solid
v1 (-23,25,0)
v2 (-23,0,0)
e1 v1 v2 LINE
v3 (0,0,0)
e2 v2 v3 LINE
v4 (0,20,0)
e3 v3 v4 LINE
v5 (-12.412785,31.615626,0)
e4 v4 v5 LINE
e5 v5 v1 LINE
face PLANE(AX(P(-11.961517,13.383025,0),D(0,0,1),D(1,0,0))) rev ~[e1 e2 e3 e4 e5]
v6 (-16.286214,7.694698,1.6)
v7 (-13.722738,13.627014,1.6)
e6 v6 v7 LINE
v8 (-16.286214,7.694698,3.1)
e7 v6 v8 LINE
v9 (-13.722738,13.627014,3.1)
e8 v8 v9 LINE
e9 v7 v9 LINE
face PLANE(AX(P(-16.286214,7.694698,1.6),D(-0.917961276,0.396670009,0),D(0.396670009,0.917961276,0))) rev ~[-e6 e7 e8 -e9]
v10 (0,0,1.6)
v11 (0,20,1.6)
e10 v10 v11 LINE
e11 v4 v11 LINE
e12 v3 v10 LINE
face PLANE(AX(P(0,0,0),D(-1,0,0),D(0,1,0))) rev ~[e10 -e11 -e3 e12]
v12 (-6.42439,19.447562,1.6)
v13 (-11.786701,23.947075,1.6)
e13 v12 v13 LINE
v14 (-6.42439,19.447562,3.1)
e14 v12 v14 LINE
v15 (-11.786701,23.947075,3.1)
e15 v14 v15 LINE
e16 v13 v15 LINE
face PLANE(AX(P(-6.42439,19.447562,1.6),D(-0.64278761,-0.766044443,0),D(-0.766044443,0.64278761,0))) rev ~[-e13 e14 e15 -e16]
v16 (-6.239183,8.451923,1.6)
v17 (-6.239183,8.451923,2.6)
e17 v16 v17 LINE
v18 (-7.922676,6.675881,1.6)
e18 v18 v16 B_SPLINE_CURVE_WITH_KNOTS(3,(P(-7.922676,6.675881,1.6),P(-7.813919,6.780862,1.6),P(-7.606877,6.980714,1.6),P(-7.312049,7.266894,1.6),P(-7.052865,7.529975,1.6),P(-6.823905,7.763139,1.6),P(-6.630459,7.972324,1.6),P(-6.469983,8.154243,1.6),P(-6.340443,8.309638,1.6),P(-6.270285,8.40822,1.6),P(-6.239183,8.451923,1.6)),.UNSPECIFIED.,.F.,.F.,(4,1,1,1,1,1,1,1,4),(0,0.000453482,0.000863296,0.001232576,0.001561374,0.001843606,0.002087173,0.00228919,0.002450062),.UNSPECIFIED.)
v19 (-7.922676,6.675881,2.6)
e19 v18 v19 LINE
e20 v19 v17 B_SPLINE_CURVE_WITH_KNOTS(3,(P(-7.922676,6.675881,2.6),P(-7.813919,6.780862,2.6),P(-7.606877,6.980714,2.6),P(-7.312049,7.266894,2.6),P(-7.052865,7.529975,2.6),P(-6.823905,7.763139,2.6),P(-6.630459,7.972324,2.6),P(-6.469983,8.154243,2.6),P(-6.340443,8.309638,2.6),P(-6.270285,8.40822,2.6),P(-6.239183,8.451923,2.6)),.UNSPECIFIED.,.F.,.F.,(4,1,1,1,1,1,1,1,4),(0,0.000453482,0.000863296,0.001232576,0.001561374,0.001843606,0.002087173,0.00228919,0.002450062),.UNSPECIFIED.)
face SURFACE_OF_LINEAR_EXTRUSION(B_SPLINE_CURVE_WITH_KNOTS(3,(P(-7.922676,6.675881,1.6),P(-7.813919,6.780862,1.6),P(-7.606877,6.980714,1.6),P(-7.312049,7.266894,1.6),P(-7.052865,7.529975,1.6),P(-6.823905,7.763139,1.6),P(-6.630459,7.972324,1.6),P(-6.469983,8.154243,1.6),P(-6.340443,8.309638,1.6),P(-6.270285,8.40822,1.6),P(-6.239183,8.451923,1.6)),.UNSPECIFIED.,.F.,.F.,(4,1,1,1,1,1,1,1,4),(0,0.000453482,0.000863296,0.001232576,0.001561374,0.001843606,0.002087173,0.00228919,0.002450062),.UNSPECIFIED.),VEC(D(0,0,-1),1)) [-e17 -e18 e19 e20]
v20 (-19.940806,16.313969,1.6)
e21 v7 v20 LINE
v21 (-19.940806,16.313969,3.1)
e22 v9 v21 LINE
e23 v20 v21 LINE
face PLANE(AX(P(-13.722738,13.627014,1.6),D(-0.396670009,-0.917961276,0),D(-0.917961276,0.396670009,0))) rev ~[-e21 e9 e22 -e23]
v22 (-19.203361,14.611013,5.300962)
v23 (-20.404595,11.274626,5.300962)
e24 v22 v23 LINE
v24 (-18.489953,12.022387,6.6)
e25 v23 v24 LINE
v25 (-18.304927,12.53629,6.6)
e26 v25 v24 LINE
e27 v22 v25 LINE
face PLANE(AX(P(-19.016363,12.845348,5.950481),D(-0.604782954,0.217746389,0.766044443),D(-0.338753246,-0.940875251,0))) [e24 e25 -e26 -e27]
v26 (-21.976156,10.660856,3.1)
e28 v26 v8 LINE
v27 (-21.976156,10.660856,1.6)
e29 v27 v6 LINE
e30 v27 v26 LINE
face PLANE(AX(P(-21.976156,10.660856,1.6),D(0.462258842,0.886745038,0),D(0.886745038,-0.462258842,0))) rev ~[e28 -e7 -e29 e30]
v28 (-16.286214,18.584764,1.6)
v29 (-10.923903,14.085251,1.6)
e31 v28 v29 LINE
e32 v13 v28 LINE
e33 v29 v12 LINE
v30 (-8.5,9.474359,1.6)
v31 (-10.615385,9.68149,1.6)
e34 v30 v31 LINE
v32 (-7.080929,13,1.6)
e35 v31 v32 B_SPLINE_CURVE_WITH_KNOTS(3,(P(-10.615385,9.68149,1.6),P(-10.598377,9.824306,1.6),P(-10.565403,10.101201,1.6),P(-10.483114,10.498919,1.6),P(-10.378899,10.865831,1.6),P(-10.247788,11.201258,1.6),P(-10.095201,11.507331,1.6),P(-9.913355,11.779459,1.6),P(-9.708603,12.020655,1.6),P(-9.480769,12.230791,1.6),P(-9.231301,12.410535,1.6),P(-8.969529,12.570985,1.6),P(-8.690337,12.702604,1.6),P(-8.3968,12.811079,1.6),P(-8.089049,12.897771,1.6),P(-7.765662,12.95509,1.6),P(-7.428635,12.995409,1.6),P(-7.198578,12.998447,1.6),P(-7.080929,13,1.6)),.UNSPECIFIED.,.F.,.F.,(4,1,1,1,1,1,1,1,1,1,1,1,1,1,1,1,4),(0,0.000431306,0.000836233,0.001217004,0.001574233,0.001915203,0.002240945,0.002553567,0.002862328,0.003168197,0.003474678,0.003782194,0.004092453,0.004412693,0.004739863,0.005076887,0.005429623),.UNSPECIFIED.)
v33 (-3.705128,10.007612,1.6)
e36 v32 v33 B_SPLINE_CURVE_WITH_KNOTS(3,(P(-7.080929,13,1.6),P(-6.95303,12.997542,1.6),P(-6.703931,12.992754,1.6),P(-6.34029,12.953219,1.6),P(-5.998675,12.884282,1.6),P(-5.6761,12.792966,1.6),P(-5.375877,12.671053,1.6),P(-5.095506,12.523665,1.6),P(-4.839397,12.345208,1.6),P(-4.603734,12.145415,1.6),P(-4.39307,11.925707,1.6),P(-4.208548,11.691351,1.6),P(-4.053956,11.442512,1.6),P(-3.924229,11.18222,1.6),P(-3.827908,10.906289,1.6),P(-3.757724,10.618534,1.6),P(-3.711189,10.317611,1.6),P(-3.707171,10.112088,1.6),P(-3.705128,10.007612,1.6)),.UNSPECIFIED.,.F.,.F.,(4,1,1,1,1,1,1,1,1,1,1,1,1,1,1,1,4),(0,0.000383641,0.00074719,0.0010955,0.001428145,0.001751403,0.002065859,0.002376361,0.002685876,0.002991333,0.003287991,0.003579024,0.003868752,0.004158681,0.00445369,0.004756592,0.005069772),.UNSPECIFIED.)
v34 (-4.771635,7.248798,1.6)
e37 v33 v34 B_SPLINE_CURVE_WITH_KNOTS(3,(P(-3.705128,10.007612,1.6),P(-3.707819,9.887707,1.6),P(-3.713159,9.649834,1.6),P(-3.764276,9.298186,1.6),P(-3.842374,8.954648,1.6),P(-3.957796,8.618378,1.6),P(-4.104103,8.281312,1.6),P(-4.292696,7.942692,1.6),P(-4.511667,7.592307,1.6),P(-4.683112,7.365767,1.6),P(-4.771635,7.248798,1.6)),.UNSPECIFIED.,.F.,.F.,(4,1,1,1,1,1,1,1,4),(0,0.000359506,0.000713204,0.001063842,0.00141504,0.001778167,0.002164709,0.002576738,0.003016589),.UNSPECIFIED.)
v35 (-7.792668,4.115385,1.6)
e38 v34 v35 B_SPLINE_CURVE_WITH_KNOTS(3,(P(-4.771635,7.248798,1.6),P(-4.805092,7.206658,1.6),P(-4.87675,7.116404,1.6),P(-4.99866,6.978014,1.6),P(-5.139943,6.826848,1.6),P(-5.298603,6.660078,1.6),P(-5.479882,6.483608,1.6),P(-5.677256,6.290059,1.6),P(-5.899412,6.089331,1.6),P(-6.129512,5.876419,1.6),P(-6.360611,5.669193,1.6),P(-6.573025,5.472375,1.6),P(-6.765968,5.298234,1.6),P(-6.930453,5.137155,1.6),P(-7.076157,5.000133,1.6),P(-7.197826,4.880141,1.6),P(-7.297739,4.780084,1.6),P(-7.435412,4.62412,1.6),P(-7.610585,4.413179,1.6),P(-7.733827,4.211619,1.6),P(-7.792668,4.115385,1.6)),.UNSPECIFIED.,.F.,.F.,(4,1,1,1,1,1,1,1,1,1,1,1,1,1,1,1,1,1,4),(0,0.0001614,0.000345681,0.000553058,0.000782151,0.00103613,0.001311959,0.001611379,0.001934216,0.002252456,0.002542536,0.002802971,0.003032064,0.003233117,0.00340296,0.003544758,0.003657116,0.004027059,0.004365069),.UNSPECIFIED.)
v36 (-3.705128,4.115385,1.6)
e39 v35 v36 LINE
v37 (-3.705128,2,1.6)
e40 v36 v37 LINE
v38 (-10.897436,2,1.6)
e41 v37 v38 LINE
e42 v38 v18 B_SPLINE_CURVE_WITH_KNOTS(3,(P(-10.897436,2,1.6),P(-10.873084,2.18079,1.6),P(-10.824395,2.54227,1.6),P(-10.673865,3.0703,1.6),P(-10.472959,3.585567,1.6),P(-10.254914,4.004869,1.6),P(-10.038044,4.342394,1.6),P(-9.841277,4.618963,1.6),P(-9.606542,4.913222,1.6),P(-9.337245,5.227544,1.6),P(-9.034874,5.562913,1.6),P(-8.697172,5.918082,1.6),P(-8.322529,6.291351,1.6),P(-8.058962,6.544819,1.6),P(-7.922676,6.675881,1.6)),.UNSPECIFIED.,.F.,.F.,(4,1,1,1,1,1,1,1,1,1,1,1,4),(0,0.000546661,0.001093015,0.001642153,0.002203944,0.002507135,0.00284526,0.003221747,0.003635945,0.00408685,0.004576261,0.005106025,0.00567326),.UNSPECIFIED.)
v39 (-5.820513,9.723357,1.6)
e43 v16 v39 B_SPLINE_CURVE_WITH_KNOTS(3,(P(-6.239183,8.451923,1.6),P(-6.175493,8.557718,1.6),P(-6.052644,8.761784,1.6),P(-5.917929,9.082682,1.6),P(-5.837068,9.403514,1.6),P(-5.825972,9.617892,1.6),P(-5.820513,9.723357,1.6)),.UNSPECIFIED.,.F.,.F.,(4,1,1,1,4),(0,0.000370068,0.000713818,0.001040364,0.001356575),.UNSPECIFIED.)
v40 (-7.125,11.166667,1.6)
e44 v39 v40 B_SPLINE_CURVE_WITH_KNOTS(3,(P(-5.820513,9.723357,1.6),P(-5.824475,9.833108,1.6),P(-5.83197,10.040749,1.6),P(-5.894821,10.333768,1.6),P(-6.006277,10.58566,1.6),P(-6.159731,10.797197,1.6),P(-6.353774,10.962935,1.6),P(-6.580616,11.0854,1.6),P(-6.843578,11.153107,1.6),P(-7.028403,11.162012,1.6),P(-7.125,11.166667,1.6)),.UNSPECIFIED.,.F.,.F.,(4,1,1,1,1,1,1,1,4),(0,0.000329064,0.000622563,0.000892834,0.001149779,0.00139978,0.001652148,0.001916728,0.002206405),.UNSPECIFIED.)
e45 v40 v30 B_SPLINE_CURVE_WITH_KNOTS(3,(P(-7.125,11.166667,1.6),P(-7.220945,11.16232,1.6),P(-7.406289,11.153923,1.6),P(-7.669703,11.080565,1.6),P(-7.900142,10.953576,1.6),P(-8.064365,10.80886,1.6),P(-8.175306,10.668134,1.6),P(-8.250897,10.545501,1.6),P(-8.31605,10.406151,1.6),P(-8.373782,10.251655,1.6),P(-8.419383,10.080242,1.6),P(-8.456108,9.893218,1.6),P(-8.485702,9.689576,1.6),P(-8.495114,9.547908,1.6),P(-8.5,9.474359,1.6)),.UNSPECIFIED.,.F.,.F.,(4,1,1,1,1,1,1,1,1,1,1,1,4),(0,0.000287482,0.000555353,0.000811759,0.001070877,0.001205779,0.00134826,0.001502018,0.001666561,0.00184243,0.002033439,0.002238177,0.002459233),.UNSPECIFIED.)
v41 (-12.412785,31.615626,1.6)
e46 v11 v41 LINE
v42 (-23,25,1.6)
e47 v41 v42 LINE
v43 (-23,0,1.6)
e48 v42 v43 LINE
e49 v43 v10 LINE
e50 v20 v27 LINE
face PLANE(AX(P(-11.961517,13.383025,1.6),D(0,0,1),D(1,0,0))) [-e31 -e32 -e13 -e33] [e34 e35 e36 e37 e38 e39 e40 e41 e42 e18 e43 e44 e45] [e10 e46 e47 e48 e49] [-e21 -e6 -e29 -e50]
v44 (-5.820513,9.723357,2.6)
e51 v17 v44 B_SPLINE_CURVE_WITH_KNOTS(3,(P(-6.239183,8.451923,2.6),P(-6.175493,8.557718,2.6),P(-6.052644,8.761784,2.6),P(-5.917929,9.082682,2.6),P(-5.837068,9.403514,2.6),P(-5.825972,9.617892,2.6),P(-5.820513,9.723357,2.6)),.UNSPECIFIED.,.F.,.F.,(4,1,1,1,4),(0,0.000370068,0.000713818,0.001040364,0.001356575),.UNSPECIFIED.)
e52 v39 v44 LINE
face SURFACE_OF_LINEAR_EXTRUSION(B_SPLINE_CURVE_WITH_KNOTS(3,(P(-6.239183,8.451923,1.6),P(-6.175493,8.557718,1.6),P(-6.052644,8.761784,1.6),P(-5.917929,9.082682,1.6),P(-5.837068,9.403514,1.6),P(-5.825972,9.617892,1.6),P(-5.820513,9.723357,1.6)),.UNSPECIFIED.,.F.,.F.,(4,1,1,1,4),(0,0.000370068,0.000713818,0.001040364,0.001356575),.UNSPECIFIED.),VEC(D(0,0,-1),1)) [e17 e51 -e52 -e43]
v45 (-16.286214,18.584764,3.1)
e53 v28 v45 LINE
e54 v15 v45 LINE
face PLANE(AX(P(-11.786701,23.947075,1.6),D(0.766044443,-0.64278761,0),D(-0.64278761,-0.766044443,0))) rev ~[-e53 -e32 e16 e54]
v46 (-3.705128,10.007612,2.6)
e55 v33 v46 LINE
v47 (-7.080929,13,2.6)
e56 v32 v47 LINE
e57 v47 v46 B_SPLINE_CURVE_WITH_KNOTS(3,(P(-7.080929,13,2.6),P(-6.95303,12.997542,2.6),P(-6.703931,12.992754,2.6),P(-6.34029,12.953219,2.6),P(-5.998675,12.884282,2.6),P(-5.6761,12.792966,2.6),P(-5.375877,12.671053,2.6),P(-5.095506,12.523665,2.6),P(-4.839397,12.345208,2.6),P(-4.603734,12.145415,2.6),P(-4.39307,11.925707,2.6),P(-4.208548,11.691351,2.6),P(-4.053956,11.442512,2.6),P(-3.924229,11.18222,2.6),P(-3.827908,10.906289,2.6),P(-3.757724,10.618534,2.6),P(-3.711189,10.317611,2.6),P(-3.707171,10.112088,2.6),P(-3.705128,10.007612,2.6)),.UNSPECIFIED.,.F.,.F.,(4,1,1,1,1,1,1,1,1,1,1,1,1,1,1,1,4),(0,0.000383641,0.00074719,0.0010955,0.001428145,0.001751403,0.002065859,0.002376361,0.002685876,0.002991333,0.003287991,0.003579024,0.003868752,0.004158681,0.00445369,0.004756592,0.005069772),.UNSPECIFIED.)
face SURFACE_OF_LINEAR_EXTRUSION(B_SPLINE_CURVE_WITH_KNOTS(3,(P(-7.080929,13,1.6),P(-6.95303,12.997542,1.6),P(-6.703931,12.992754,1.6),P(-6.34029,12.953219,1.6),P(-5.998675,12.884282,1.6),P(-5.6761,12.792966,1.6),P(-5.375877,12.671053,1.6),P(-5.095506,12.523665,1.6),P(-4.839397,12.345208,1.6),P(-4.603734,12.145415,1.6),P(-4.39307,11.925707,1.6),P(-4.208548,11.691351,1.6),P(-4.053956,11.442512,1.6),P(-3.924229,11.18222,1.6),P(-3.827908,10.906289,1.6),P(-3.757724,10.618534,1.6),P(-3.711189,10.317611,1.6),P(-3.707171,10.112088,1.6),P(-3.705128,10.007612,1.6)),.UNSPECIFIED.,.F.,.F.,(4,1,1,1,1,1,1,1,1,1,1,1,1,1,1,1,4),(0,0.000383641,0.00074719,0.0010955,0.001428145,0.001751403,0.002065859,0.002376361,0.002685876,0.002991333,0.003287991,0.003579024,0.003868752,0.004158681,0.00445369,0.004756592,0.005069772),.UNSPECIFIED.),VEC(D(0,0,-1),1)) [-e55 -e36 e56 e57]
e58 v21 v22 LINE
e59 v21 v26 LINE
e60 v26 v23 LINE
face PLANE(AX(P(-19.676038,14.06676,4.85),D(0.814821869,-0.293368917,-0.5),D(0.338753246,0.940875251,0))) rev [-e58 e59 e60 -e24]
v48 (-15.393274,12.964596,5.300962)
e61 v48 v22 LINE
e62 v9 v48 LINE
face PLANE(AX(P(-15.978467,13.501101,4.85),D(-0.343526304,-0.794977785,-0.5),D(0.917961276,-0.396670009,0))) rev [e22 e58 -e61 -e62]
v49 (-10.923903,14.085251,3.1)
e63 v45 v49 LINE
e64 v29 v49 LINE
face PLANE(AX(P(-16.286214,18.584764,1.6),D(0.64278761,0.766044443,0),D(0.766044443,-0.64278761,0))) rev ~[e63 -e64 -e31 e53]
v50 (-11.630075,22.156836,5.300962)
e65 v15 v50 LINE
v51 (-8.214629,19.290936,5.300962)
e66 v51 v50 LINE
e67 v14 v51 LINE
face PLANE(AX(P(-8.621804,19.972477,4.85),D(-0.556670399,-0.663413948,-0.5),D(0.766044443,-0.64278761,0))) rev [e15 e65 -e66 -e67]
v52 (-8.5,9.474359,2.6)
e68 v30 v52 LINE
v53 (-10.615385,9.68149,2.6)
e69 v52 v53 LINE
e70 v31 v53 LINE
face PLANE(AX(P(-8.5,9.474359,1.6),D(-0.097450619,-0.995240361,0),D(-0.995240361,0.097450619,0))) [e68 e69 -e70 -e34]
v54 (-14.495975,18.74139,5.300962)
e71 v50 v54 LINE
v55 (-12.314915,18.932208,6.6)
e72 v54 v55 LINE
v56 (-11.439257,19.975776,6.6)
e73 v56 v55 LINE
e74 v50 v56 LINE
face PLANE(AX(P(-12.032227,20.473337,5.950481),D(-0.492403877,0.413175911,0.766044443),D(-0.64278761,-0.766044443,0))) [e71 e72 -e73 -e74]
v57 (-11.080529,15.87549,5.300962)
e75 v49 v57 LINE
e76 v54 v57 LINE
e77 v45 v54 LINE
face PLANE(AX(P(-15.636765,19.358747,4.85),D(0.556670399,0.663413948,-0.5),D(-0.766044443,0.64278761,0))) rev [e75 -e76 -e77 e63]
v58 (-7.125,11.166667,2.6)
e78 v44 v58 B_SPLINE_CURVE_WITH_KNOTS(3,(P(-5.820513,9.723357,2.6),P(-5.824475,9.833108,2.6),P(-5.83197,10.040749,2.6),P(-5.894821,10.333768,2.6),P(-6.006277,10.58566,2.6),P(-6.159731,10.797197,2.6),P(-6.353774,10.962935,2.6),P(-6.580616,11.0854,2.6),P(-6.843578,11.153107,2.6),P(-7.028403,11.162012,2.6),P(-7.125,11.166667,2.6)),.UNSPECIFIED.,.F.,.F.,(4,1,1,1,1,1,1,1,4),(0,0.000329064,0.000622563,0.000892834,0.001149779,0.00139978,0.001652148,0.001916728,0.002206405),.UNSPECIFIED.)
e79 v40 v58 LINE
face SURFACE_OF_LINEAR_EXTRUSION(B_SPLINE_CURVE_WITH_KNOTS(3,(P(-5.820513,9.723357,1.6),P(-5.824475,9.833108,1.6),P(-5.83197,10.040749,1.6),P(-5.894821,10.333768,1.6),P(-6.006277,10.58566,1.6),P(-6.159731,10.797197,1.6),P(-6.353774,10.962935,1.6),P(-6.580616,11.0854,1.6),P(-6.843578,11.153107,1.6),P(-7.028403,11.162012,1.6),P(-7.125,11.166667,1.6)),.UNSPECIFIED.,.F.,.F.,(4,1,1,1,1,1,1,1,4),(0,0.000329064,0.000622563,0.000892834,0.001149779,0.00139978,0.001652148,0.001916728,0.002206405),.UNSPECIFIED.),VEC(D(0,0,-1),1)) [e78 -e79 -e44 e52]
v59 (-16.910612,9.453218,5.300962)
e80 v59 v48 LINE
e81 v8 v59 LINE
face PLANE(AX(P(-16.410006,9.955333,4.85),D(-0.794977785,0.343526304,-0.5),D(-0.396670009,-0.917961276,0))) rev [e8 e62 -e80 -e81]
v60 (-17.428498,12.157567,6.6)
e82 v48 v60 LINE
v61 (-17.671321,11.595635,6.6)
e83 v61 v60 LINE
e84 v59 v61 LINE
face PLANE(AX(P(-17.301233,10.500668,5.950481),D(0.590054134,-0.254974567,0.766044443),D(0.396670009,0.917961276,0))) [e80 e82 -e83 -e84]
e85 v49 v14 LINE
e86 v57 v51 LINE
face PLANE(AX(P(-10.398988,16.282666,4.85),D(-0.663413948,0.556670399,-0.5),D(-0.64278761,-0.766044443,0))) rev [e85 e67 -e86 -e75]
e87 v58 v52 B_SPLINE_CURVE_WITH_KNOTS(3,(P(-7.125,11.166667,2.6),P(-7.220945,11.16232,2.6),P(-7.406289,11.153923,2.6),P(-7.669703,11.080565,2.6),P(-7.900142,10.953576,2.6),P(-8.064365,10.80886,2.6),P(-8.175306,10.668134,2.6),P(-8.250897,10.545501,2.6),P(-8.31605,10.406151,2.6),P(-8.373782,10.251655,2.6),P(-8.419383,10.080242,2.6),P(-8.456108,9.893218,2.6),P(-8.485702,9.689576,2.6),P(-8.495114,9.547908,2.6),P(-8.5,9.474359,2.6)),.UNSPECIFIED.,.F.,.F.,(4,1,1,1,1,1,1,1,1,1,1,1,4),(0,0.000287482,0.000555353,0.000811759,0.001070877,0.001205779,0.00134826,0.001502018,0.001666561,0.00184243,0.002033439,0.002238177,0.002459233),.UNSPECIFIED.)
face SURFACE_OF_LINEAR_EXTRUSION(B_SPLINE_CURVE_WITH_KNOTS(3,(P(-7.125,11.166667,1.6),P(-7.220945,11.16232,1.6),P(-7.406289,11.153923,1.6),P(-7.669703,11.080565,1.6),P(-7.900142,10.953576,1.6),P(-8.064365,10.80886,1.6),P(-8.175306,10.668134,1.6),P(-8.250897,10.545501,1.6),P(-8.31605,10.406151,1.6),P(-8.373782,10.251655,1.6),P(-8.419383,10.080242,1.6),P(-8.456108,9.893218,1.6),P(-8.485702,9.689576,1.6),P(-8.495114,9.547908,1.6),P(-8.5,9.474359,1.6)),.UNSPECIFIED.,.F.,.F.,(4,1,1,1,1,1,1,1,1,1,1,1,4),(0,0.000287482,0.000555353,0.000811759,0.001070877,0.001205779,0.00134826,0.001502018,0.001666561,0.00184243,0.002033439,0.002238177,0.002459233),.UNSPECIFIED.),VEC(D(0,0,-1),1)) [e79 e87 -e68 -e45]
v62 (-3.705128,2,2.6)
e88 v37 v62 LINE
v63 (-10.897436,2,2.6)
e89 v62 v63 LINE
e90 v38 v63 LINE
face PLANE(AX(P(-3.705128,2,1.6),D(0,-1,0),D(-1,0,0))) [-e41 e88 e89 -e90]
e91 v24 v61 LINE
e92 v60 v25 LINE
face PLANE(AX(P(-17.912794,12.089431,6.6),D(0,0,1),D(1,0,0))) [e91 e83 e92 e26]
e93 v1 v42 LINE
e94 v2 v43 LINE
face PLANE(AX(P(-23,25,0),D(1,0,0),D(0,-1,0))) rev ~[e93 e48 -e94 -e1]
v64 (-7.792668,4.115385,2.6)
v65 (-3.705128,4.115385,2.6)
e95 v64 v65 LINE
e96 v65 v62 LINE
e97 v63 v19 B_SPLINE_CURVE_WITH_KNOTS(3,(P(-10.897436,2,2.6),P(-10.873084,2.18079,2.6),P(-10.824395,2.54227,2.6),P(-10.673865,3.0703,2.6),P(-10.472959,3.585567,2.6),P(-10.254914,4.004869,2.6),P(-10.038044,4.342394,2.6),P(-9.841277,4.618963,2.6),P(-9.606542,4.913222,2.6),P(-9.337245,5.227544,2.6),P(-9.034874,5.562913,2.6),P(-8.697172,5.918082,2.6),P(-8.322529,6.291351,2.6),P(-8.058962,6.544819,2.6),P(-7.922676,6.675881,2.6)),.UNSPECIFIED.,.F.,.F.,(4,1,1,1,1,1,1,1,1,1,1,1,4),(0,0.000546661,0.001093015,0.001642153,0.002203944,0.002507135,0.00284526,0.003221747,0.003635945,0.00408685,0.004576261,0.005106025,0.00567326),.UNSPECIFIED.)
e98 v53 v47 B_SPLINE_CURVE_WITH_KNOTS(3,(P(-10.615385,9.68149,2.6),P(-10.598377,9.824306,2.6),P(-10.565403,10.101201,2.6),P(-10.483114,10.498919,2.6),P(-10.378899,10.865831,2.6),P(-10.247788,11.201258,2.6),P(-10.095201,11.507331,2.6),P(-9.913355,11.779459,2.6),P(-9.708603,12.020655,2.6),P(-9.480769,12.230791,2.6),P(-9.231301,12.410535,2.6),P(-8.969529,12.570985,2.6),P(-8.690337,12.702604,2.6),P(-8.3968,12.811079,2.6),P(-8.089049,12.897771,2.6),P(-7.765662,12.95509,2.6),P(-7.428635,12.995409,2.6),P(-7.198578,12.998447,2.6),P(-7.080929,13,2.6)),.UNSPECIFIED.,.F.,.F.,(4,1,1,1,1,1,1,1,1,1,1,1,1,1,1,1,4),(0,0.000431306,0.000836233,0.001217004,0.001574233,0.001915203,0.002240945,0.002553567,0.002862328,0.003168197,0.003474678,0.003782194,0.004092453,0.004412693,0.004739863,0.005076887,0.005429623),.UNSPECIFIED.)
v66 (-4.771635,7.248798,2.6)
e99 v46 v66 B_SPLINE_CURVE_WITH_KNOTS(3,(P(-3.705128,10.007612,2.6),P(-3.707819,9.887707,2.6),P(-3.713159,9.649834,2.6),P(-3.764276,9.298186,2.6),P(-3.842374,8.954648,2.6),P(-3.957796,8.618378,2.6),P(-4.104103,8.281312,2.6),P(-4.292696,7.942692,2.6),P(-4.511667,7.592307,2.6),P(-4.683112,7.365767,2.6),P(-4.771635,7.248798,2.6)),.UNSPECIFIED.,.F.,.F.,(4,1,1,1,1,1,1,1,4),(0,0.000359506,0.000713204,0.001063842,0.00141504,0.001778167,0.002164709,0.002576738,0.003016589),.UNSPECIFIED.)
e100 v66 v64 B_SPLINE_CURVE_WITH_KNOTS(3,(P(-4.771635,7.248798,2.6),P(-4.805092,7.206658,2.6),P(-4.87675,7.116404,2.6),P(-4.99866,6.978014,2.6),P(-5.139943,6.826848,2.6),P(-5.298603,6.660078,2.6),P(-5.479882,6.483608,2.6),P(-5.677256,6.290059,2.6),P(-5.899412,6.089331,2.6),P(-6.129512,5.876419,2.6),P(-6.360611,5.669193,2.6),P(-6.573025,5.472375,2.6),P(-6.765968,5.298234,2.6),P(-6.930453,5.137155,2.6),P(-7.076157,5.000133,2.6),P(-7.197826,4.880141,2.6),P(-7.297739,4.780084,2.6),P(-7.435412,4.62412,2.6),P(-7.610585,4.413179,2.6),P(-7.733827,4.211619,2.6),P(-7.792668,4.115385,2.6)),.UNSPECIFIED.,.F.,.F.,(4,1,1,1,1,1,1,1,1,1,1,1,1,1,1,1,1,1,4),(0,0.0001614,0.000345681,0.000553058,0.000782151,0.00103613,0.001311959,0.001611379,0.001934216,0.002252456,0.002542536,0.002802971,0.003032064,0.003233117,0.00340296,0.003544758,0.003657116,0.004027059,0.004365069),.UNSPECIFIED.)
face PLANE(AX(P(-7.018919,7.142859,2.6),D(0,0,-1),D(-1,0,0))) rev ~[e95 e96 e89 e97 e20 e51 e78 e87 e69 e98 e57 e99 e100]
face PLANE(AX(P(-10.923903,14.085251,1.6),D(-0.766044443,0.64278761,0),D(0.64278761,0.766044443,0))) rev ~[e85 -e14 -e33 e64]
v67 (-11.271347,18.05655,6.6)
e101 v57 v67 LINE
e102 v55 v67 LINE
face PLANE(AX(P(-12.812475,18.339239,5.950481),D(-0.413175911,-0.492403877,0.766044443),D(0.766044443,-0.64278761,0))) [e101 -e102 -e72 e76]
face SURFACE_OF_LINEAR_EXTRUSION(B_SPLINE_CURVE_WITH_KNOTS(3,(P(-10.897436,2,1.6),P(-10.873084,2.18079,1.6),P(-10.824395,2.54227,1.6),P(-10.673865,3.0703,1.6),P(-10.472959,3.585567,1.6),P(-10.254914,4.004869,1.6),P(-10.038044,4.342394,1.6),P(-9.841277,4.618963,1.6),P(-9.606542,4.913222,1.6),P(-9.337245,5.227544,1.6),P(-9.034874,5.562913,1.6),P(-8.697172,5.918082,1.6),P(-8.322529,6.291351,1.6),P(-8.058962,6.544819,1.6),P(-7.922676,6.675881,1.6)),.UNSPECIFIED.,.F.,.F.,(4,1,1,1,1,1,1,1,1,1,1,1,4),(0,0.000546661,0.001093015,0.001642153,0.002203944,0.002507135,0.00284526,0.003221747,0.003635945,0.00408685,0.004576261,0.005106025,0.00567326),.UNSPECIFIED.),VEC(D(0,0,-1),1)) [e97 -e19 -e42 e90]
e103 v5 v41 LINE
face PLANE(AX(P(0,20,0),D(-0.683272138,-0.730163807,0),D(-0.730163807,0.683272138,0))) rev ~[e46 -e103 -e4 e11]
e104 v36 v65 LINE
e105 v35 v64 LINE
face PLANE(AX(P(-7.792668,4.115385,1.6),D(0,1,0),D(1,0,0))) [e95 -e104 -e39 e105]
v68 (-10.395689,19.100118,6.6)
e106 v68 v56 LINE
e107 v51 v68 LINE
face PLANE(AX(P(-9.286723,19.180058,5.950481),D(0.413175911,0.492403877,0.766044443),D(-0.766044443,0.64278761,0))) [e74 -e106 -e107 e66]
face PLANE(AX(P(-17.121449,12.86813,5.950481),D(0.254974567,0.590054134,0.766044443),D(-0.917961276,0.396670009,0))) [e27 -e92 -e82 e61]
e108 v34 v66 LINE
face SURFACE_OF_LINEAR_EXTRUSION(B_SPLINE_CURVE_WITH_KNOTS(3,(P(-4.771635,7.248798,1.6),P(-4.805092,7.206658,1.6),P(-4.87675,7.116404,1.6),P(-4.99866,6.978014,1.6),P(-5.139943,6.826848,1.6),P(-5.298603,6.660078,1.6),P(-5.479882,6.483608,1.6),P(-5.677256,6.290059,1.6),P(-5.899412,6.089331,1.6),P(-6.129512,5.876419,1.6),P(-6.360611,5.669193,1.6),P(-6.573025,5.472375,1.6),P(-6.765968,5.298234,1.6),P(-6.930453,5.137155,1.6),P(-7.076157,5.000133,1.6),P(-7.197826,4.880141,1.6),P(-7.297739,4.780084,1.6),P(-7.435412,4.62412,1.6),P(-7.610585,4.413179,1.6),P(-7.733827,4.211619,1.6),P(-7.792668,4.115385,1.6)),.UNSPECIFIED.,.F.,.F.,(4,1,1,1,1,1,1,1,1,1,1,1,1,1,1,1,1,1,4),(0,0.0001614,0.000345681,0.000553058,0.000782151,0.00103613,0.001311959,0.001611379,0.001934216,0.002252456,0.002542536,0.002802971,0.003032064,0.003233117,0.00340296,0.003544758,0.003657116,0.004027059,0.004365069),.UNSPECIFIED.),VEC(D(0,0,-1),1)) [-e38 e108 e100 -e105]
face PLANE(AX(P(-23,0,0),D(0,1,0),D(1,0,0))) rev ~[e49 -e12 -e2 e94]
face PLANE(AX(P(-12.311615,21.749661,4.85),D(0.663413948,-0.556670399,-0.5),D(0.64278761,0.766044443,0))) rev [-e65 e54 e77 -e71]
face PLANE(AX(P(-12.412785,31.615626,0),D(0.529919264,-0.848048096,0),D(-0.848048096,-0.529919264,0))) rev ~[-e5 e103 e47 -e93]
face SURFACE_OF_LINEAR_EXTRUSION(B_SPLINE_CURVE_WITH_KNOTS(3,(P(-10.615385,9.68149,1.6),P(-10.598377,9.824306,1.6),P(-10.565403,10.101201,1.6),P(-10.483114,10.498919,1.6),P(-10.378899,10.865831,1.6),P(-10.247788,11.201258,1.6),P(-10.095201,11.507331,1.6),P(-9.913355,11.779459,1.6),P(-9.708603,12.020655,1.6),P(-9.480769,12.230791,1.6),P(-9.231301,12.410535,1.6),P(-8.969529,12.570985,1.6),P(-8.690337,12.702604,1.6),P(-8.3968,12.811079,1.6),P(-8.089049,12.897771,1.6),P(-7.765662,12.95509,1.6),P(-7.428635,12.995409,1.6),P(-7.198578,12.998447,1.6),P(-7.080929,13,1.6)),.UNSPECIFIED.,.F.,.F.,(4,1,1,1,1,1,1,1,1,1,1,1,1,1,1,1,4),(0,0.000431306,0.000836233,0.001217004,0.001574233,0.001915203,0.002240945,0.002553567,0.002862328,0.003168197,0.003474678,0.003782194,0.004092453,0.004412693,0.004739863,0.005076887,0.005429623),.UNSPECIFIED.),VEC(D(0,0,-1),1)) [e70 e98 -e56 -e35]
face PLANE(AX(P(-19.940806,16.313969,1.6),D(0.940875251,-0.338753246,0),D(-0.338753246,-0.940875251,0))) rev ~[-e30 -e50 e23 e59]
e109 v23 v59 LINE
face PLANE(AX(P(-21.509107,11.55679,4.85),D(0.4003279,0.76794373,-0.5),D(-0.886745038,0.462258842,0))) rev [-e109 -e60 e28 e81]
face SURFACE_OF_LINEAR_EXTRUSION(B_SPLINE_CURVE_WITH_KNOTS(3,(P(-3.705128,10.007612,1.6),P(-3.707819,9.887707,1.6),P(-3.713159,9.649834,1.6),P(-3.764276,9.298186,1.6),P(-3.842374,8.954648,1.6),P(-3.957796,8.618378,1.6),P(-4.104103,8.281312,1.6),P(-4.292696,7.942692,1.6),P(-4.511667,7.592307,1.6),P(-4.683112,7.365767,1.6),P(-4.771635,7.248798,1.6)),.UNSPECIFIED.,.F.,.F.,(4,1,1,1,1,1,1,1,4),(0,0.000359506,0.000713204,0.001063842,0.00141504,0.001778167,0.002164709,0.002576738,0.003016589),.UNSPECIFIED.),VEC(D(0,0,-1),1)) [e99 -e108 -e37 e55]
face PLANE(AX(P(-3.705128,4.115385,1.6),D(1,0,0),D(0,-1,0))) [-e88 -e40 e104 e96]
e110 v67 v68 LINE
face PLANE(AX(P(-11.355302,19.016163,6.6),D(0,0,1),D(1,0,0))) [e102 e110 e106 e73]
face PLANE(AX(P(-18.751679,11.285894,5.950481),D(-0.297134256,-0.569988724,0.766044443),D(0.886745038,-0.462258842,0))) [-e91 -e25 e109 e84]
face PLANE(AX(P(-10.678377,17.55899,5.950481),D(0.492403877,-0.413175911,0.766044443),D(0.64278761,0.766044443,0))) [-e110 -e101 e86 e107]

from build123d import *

# Parameters (mm, degrees)
P_IDAT_VYSUNUT_M5_DEPTH = 1.6
P_IDAT_VYSUNUT_M6_DEPTH = 1
P_IDAT_VYSUNUT_M7_DEPTH = 5
ZKOSEN_1_SIZE           = 3.5
ZKOSEN_1_SIZE2          = 2.020725942
ZKOSEN_1_PART_2_SIZE    = 3.5
ZKOSEN_1_PART_2_SIZE2   = 2.020725942
ZKOSEN_1_PART_3_SIZE    = 3.5
ZKOSEN_1_PART_3_SIZE2   = 2.020725942
ZKOSEN_1_PART_4_SIZE    = 3.5
ZKOSEN_1_PART_4_SIZE2   = 2.020725942
ZKOSEN_1_PART_5_SIZE    = 3.5
ZKOSEN_1_PART_5_SIZE2   = 2.020725942
ZKOSEN_1_PART_6_SIZE    = 3.5
ZKOSEN_1_PART_6_SIZE2   = 2.020725942
ZKOSEN_1_PART_7_SIZE    = 3.5
ZKOSEN_1_PART_7_SIZE2   = 2.020725942
ZKOSEN_1_PART_8_SIZE    = 3.5
ZKOSEN_1_PART_8_SIZE2   = 2.020725942
ZKOSEN_2_SIZE           = 1.5
ZKOSEN_2_SIZE2          = 0.798133329
ZKOSEN_2_PART_2_SIZE    = 1.5
ZKOSEN_2_PART_2_SIZE2   = 0.798133329
ZKOSEN_2_PART_3_SIZE    = 1.5
ZKOSEN_2_PART_3_SIZE2   = 0.798133329
ZKOSEN_2_PART_4_SIZE    = 1.5
ZKOSEN_2_PART_4_SIZE2   = 0.798133329
ZKOSEN_2_PART_5_SIZE    = 1.5
ZKOSEN_2_PART_5_SIZE2   = 0.798133329
ZKOSEN_2_PART_6_SIZE    = 1.5
ZKOSEN_2_PART_6_SIZE2   = 0.798133329
ZKOSEN_2_PART_7_SIZE    = 1.5
ZKOSEN_2_PART_7_SIZE2   = 0.798133329
ZKOSEN_2_PART_8_SIZE    = 1.5
ZKOSEN_2_PART_8_SIZE2   = 0.798133329


with BuildPart() as part:
    # Skica1 → Přidat vysunutím5 (new body)
    with BuildSketch(Plane.XY):
        Polygon((0, 0), (0, 20), (-12.412784718, 31.615626352), (-23, 25), (-23, 0), align=None)
    extrude(amount=P_IDAT_VYSUNUT_M5_DEPTH)

    # Skica2 → Přidat vysunutím6 (add)
    with BuildSketch(Plane.XY.offset(1.6)):
        with BuildLine():
            Line((-3.705128205, 4.115384615), (-3.705128205, 2))
            Line((-3.705128205, 2), (-10.897435897, 2))
            add(Edge.make_bspline(
                [(-10.897435897, 2), (-10.87308441, 2.180790308), (-10.824395089, 2.542269551), (-10.673865117, 3.070299742), (-10.472959166, 3.585566992), (-10.254913916, 4.004869463), (-10.038043764, 4.342393523), (-9.841277463, 4.618963346), (-9.60654249, 4.913221767), (-9.337245105, 5.227544267), (-9.034873554, 5.562913411), (-8.697171951, 5.918082368), (-8.322529407, 6.291350846), (-8.058961705, 6.54481851), (-7.922676282, 6.67588141)],
                knots=[0, 0, 0, 0, 0.000546661, 0.001093015, 0.001642153, 0.002203944, 0.002507135, 0.00284526, 0.003221747, 0.003635945, 0.00408685, 0.004576261, 0.005106025, 0.00567326, 0.00567326, 0.00567326, 0.00567326], degree=3))
            add(Edge.make_bspline(
                [(-7.922676282, 6.67588141), (-7.813918956, 6.780862005), (-7.606877039, 6.980714138), (-7.312048947, 7.266894293), (-7.052864674, 7.529975199), (-6.823905036, 7.763139303), (-6.630459323, 7.972323552), (-6.469982936, 8.154242742), (-6.34044346, 8.309637702), (-6.270284768, 8.408220362), (-6.239182692, 8.451923077)],
                knots=[0, 0, 0, 0, 0.000453482, 0.000863296, 0.001232576, 0.001561374, 0.001843606, 0.002087173, 0.00228919, 0.002450062, 0.002450062, 0.002450062, 0.002450062], degree=3))
            add(Edge.make_bspline(
                [(-6.239182692, 8.451923077), (-6.175493233, 8.557718073), (-6.052643645, 8.761784362), (-5.91792888, 9.082682292), (-5.837068057, 9.403513936), (-5.825971765, 9.617891805), (-5.820512821, 9.723357372)],
                knots=[0, 0, 0, 0, 0.000370068, 0.000713818, 0.001040364, 0.001356575, 0.001356575, 0.001356575, 0.001356575], degree=3))
            add(Edge.make_bspline(
                [(-5.820512821, 9.723357372), (-5.824474653, 9.833108474), (-5.831970132, 10.040748999), (-5.894821019, 10.333768175), (-6.006276867, 10.585659667), (-6.15973106, 10.797196661), (-6.353774193, 10.962935085), (-6.580616259, 11.085399693), (-6.843577862, 11.153106661), (-7.028402789, 11.16201224), (-7.125, 11.166666667)],
                knots=[0, 0, 0, 0, 0.000329064, 0.000622563, 0.000892834, 0.001149779, 0.00139978, 0.001652148, 0.001916728, 0.002206405, 0.002206405, 0.002206405, 0.002206405], degree=3))
            add(Edge.make_bspline(
                [(-7.125, 11.166666667), (-7.220944609, 11.16231978), (-7.406288878, 11.153922533), (-7.669703299, 11.080565334), (-7.900142302, 10.953576306), (-8.06436539, 10.808860058), (-8.175305876, 10.668134018), (-8.250896853, 10.545500545), (-8.316050374, 10.406151312), (-8.37378183, 10.251655158), (-8.419383153, 10.080242168), (-8.456107626, 9.893217825), (-8.485702239, 9.689575671), (-8.495113848, 9.547907653), (-8.5, 9.474358974)],
                knots=[0, 0, 0, 0, 0.000287482, 0.000555353, 0.000811759, 0.001070877, 0.001205779, 0.00134826, 0.001502018, 0.001666561, 0.00184243, 0.002033439, 0.002238177, 0.002459233, 0.002459233, 0.002459233, 0.002459233], degree=3))
            Line((-8.5, 9.474358974), (-10.615384615, 9.681490385))
            add(Edge.make_bspline(
                [(-10.615384615, 9.681490385), (-10.598377251, 9.824305509), (-10.565402688, 10.101201217), (-10.483114114, 10.498918926), (-10.378898684, 10.865831465), (-10.247788098, 11.201257911), (-10.095201314, 11.507331251), (-9.913355139, 11.779458664), (-9.708603468, 12.020654551), (-9.480769352, 12.230790543), (-9.231301205, 12.410535137), (-8.969529148, 12.57098477), (-8.690337423, 12.702604473), (-8.396799939, 12.811078884), (-8.089049352, 12.897770766), (-7.765662274, 12.955090263), (-7.42863453, 12.995409017), (-7.198577984, 12.998446608), (-7.080929487, 13)],
                knots=[0, 0, 0, 0, 0.000431306, 0.000836233, 0.001217004, 0.001574233, 0.001915203, 0.002240945, 0.002553567, 0.002862328, 0.003168197, 0.003474678, 0.003782194, 0.004092453, 0.004412693, 0.004739863, 0.005076887, 0.005429623, 0.005429623, 0.005429623, 0.005429623], degree=3))
            add(Edge.make_bspline(
                [(-7.080929487, 13), (-6.953030371, 12.997541845), (-6.703930784, 12.992754281), (-6.34028961, 12.953218534), (-5.998674853, 12.884282231), (-5.676099879, 12.79296634), (-5.375877361, 12.67105295), (-5.095505554, 12.52366473), (-4.83939702, 12.345207999), (-4.603734114, 12.145414763), (-4.393070332, 11.925706984), (-4.20854792, 11.691351493), (-4.053955652, 11.442511564), (-3.924228998, 11.182220281), (-3.827907833, 10.90628918), (-3.757724044, 10.618533633), (-3.711189366, 10.317611197), (-3.707170936, 10.112088), (-3.705128205, 10.007612179)],
                knots=[0, 0, 0, 0, 0.000383641, 0.00074719, 0.0010955, 0.001428145, 0.001751403, 0.002065859, 0.002376361, 0.002685876, 0.002991333, 0.003287991, 0.003579024, 0.003868752, 0.004158681, 0.00445369, 0.004756592, 0.005069772, 0.005069772, 0.005069772, 0.005069772], degree=3))
            add(Edge.make_bspline(
                [(-3.705128205, 10.007612179), (-3.707819477, 9.887707131), (-3.713158546, 9.649833916), (-3.764276175, 9.298186238), (-3.84237396, 8.954647512), (-3.957796338, 8.618378159), (-4.104103161, 8.28131186), (-4.292696164, 7.942692037), (-4.511666905, 7.592306518), (-4.683112364, 7.36576699), (-4.771634615, 7.248798077)],
                knots=[0, 0, 0, 0, 0.000359506, 0.000713204, 0.001063842, 0.00141504, 0.001778167, 0.002164709, 0.002576738, 0.003016589, 0.003016589, 0.003016589, 0.003016589], degree=3))
            add(Edge.make_bspline(
                [(-4.771634615, 7.248798077), (-4.80509214, 7.206658226), (-4.876750403, 7.116404431), (-4.998659939, 6.978014195), (-5.139942605, 6.826848432), (-5.298602846, 6.660077667), (-5.479881522, 6.483607708), (-5.677256214, 6.290058721), (-5.899411985, 6.089331377), (-6.12951153, 5.876418507), (-6.360611244, 5.669193404), (-6.5730252, 5.472375498), (-6.765967752, 5.298233923), (-6.930453202, 5.137155265), (-7.076156545, 5.000133027), (-7.197826149, 4.880140867), (-7.29773874, 4.780083699), (-7.43541186, 4.624119958), (-7.610585282, 4.413178934), (-7.733826947, 4.21161882), (-7.792668269, 4.115384615)],
                knots=[0, 0, 0, 0, 0.0001614, 0.000345681, 0.000553058, 0.000782151, 0.00103613, 0.001311959, 0.001611379, 0.001934216, 0.002252456, 0.002542536, 0.002802971, 0.003032064, 0.003233117, 0.00340296, 0.003544758, 0.003657116, 0.004027059, 0.004365069, 0.004365069, 0.004365069, 0.004365069], degree=3))
            Line((-7.792668269, 4.115384615), (-3.705128205, 4.115384615))
        make_face()
    extrude(amount=P_IDAT_VYSUNUT_M6_DEPTH)

    # Skica3 → Přidat vysunutím7 (add)
    with BuildSketch(Plane.XY.offset(1.6)):
        Polygon((-10.923902938, 14.085251037), (-6.42438967, 19.447562139), (-11.786700772, 23.947075407), (-16.28621404, 18.584764305), align=None)
        Polygon((-16.28621404, 7.694697517), (-13.722737722, 13.627013902), (-19.940805957, 16.31396949), (-21.976156172, 10.660855709), align=None)
    extrude(amount=P_IDAT_VYSUNUT_M7_DEPTH)

    # Zkosení1
    zkosen_1_edges = [part.edges().sort_by_distance(p)[0] for p in [
        (-13.605058489, 16.335007671, 6.6),
    ]]
    zkosen_1_side = [part.faces().sort_by_distance(p)[0] for p in [
        (-13.605058489, 16.335007671, 4.1),
    ]]
    chamfer(zkosen_1_edges, length=ZKOSEN_1_SIZE, length2=ZKOSEN_1_SIZE2, reference=zkosen_1_side[0])

    # Zkosení1 part 2
    zkosen_1_part_2_edges = [part.edges().sort_by_distance(p)[0] for p in [
        (-8.674146304, 16.766406588, 6.6),
    ]]
    zkosen_1_part_2_side = [part.faces().sort_by_distance(p)[0] for p in [
        (-8.674146304, 16.766406588, 4.1),
    ]]
    chamfer(zkosen_1_part_2_edges, length=ZKOSEN_1_PART_2_SIZE, length2=ZKOSEN_1_PART_2_SIZE2, reference=zkosen_1_part_2_side[0])

    # Zkosení1 part 3
    zkosen_1_part_3_edges = [part.edges().sort_by_distance(p)[0] for p in [
        (-9.105545221, 21.697318773, 6.6),
    ]]
    zkosen_1_part_3_side = [part.faces().sort_by_distance(p)[0] for p in [
        (-9.105545221, 21.697318773, 4.1),
    ]]
    chamfer(zkosen_1_part_3_edges, length=ZKOSEN_1_PART_3_SIZE, length2=ZKOSEN_1_PART_3_SIZE2, reference=zkosen_1_part_3_side[0])

    # Zkosení1 part 4
    zkosen_1_part_4_edges = [part.edges().sort_by_distance(p)[0] for p in [
        (-14.036457406, 21.265919856, 6.6),
    ]]
    zkosen_1_part_4_side = [part.faces().sort_by_distance(p)[0] for p in [
        (-14.036457406, 21.265919856, 4.1),
    ]]
    chamfer(zkosen_1_part_4_edges, length=ZKOSEN_1_PART_4_SIZE, length2=ZKOSEN_1_PART_4_SIZE2, reference=zkosen_1_part_4_side[0])

    # Zkosení1 part 5
    zkosen_1_part_5_edges = [part.edges().sort_by_distance(p)[0] for p in [
        (-19.131185106, 9.177776613, 6.6),
    ]]
    zkosen_1_part_5_side = [part.faces().sort_by_distance(p)[0] for p in [
        (-19.131185106, 9.177776613, 4.1),
    ]]
    chamfer(zkosen_1_part_5_edges, length=ZKOSEN_1_PART_5_SIZE, length2=ZKOSEN_1_PART_5_SIZE2, reference=zkosen_1_part_5_side[0])

    # Zkosení1 part 6
    zkosen_1_part_6_edges = [part.edges().sort_by_distance(p)[0] for p in [
        (-15.004475881, 10.660855709, 6.6),
    ]]
    zkosen_1_part_6_side = [part.faces().sort_by_distance(p)[0] for p in [
        (-15.004475881, 10.660855709, 4.1),
    ]]
    chamfer(zkosen_1_part_6_edges, length=ZKOSEN_1_PART_6_SIZE, length2=ZKOSEN_1_PART_6_SIZE2, reference=zkosen_1_part_6_side[0])

    # Zkosení1 part 7
    zkosen_1_part_7_edges = [part.edges().sort_by_distance(p)[0] for p in [
        (-16.831771839, 14.970491696, 6.6),
    ]]
    zkosen_1_part_7_side = [part.faces().sort_by_distance(p)[0] for p in [
        (-16.831771839, 14.970491696, 4.1),
    ]]
    chamfer(zkosen_1_part_7_edges, length=ZKOSEN_1_PART_7_SIZE, length2=ZKOSEN_1_PART_7_SIZE2, reference=zkosen_1_part_7_side[0])

    # Zkosení1 part 8
    zkosen_1_part_8_edges = [part.edges().sort_by_distance(p)[0] for p in [
        (-20.958481064, 13.4874126, 6.6),
    ]]
    zkosen_1_part_8_side = [part.faces().sort_by_distance(p)[0] for p in [
        (-20.958481064, 13.4874126, 4.1),
    ]]
    chamfer(zkosen_1_part_8_edges, length=ZKOSEN_1_PART_8_SIZE, length2=ZKOSEN_1_PART_8_SIZE2, reference=zkosen_1_part_8_side[0])

    # Zkosení2
    zkosen_2_edges = [part.edges().sort_by_distance(p)[0] for p in [
        (-16.829194071, 11.532374342, 6.6),
    ]]
    zkosen_2_side = [part.faces().sort_by_distance(p)[0] for p in [
        (-15.77075521, 11.02684467, 4.569803757),
    ]]
    chamfer(zkosen_2_edges, length=ZKOSEN_2_SIZE, length2=ZKOSEN_2_SIZE2, reference=zkosen_2_side[0])

    # Zkosení2 part 2
    zkosen_2_part_2_edges = [part.edges().sort_by_distance(p)[0] for p in [
        (-17.573678925, 13.089765682, 6.6),
    ]]
    zkosen_2_part_2_side = [part.faces().sort_by_distance(p)[0] for p in [
        (-17.147713244, 14.169583833, 4.590476284),
    ]]
    chamfer(zkosen_2_part_2_edges, length=ZKOSEN_2_PART_2_SIZE, length2=ZKOSEN_2_PART_2_SIZE2, reference=zkosen_2_part_2_side[0])

    # Zkosení2 part 3
    zkosen_2_part_3_edges = [part.edges().sort_by_distance(p)[0] for p in [
        (-19.122574482, 12.621393223, 6.6),
    ]]
    zkosen_2_part_3_side = [part.faces().sort_by_distance(p)[0] for p in [
        (-20.188422633, 13.124166708, 4.568051009),
    ]]
    chamfer(zkosen_2_part_3_edges, length=ZKOSEN_2_PART_3_SIZE, length2=ZKOSEN_2_PART_3_SIZE2, reference=zkosen_2_part_3_side[0])

    # Zkosení2 part 4
    zkosen_2_part_4_edges = [part.edges().sort_by_distance(p)[0] for p in [
        (-18.378089628, 11.064001883, 6.6),
    ]]
    zkosen_2_part_4_side = [part.faces().sort_by_distance(p)[0] for p in [
        (-18.810204822, 9.981713353, 4.591751084),
    ]]
    chamfer(zkosen_2_part_4_edges, length=ZKOSEN_2_PART_4_SIZE, length2=ZKOSEN_2_PART_4_SIZE2, reference=zkosen_2_part_4_side[0])

    # Zkosení2 part 5
    zkosen_2_part_5_edges = [part.edges().sort_by_distance(p)[0] for p in [
        (-10.404442819, 20.149352894, 6.6),
    ]]
    zkosen_2_part_5_side = [part.faces().sort_by_distance(p)[0] for p in [
        (-9.66713931, 21.028037, 4.613267339),
    ]]
    chamfer(zkosen_2_part_5_edges, length=ZKOSEN_2_PART_5_SIZE, length2=ZKOSEN_2_PART_5_SIZE2, reference=zkosen_2_part_5_side[0])

    # Zkosení2 part 6
    zkosen_2_part_6_edges = [part.edges().sort_by_distance(p)[0] for p in [
        (-12.488491527, 19.967022258, 6.6),
    ]]
    zkosen_2_part_6_side = [part.faces().sort_by_distance(p)[0] for p in [
        (-13.367175633, 20.704325767, 4.613267339),
    ]]
    chamfer(zkosen_2_part_6_edges, length=ZKOSEN_2_PART_6_SIZE, length2=ZKOSEN_2_PART_6_SIZE2, reference=zkosen_2_part_6_side[0])

    # Zkosení2 part 7
    zkosen_2_part_7_edges = [part.edges().sort_by_distance(p)[0] for p in [
        (-12.30616089, 17.88297355, 6.6),
    ]]
    zkosen_2_part_7_side = [part.faces().sort_by_distance(p)[0] for p in [
        (-13.0434644, 17.004289444, 4.613267339),
    ]]
    chamfer(zkosen_2_part_7_edges, length=ZKOSEN_2_PART_7_SIZE, length2=ZKOSEN_2_PART_7_SIZE2, reference=zkosen_2_part_7_side[0])

    # Zkosení2 part 8
    zkosen_2_part_8_edges = [part.edges().sort_by_distance(p)[0] for p in [
        (-10.222112183, 18.065304186, 6.6),
    ]]
    zkosen_2_part_8_side = [part.faces().sort_by_distance(p)[0] for p in [
        (-9.343428077, 17.328000677, 4.613267339),
    ]]
    chamfer(zkosen_2_part_8_edges, length=ZKOSEN_2_PART_8_SIZE, length2=ZKOSEN_2_PART_8_SIZE2, reference=zkosen_2_part_8_side[0])


solid = part.part
